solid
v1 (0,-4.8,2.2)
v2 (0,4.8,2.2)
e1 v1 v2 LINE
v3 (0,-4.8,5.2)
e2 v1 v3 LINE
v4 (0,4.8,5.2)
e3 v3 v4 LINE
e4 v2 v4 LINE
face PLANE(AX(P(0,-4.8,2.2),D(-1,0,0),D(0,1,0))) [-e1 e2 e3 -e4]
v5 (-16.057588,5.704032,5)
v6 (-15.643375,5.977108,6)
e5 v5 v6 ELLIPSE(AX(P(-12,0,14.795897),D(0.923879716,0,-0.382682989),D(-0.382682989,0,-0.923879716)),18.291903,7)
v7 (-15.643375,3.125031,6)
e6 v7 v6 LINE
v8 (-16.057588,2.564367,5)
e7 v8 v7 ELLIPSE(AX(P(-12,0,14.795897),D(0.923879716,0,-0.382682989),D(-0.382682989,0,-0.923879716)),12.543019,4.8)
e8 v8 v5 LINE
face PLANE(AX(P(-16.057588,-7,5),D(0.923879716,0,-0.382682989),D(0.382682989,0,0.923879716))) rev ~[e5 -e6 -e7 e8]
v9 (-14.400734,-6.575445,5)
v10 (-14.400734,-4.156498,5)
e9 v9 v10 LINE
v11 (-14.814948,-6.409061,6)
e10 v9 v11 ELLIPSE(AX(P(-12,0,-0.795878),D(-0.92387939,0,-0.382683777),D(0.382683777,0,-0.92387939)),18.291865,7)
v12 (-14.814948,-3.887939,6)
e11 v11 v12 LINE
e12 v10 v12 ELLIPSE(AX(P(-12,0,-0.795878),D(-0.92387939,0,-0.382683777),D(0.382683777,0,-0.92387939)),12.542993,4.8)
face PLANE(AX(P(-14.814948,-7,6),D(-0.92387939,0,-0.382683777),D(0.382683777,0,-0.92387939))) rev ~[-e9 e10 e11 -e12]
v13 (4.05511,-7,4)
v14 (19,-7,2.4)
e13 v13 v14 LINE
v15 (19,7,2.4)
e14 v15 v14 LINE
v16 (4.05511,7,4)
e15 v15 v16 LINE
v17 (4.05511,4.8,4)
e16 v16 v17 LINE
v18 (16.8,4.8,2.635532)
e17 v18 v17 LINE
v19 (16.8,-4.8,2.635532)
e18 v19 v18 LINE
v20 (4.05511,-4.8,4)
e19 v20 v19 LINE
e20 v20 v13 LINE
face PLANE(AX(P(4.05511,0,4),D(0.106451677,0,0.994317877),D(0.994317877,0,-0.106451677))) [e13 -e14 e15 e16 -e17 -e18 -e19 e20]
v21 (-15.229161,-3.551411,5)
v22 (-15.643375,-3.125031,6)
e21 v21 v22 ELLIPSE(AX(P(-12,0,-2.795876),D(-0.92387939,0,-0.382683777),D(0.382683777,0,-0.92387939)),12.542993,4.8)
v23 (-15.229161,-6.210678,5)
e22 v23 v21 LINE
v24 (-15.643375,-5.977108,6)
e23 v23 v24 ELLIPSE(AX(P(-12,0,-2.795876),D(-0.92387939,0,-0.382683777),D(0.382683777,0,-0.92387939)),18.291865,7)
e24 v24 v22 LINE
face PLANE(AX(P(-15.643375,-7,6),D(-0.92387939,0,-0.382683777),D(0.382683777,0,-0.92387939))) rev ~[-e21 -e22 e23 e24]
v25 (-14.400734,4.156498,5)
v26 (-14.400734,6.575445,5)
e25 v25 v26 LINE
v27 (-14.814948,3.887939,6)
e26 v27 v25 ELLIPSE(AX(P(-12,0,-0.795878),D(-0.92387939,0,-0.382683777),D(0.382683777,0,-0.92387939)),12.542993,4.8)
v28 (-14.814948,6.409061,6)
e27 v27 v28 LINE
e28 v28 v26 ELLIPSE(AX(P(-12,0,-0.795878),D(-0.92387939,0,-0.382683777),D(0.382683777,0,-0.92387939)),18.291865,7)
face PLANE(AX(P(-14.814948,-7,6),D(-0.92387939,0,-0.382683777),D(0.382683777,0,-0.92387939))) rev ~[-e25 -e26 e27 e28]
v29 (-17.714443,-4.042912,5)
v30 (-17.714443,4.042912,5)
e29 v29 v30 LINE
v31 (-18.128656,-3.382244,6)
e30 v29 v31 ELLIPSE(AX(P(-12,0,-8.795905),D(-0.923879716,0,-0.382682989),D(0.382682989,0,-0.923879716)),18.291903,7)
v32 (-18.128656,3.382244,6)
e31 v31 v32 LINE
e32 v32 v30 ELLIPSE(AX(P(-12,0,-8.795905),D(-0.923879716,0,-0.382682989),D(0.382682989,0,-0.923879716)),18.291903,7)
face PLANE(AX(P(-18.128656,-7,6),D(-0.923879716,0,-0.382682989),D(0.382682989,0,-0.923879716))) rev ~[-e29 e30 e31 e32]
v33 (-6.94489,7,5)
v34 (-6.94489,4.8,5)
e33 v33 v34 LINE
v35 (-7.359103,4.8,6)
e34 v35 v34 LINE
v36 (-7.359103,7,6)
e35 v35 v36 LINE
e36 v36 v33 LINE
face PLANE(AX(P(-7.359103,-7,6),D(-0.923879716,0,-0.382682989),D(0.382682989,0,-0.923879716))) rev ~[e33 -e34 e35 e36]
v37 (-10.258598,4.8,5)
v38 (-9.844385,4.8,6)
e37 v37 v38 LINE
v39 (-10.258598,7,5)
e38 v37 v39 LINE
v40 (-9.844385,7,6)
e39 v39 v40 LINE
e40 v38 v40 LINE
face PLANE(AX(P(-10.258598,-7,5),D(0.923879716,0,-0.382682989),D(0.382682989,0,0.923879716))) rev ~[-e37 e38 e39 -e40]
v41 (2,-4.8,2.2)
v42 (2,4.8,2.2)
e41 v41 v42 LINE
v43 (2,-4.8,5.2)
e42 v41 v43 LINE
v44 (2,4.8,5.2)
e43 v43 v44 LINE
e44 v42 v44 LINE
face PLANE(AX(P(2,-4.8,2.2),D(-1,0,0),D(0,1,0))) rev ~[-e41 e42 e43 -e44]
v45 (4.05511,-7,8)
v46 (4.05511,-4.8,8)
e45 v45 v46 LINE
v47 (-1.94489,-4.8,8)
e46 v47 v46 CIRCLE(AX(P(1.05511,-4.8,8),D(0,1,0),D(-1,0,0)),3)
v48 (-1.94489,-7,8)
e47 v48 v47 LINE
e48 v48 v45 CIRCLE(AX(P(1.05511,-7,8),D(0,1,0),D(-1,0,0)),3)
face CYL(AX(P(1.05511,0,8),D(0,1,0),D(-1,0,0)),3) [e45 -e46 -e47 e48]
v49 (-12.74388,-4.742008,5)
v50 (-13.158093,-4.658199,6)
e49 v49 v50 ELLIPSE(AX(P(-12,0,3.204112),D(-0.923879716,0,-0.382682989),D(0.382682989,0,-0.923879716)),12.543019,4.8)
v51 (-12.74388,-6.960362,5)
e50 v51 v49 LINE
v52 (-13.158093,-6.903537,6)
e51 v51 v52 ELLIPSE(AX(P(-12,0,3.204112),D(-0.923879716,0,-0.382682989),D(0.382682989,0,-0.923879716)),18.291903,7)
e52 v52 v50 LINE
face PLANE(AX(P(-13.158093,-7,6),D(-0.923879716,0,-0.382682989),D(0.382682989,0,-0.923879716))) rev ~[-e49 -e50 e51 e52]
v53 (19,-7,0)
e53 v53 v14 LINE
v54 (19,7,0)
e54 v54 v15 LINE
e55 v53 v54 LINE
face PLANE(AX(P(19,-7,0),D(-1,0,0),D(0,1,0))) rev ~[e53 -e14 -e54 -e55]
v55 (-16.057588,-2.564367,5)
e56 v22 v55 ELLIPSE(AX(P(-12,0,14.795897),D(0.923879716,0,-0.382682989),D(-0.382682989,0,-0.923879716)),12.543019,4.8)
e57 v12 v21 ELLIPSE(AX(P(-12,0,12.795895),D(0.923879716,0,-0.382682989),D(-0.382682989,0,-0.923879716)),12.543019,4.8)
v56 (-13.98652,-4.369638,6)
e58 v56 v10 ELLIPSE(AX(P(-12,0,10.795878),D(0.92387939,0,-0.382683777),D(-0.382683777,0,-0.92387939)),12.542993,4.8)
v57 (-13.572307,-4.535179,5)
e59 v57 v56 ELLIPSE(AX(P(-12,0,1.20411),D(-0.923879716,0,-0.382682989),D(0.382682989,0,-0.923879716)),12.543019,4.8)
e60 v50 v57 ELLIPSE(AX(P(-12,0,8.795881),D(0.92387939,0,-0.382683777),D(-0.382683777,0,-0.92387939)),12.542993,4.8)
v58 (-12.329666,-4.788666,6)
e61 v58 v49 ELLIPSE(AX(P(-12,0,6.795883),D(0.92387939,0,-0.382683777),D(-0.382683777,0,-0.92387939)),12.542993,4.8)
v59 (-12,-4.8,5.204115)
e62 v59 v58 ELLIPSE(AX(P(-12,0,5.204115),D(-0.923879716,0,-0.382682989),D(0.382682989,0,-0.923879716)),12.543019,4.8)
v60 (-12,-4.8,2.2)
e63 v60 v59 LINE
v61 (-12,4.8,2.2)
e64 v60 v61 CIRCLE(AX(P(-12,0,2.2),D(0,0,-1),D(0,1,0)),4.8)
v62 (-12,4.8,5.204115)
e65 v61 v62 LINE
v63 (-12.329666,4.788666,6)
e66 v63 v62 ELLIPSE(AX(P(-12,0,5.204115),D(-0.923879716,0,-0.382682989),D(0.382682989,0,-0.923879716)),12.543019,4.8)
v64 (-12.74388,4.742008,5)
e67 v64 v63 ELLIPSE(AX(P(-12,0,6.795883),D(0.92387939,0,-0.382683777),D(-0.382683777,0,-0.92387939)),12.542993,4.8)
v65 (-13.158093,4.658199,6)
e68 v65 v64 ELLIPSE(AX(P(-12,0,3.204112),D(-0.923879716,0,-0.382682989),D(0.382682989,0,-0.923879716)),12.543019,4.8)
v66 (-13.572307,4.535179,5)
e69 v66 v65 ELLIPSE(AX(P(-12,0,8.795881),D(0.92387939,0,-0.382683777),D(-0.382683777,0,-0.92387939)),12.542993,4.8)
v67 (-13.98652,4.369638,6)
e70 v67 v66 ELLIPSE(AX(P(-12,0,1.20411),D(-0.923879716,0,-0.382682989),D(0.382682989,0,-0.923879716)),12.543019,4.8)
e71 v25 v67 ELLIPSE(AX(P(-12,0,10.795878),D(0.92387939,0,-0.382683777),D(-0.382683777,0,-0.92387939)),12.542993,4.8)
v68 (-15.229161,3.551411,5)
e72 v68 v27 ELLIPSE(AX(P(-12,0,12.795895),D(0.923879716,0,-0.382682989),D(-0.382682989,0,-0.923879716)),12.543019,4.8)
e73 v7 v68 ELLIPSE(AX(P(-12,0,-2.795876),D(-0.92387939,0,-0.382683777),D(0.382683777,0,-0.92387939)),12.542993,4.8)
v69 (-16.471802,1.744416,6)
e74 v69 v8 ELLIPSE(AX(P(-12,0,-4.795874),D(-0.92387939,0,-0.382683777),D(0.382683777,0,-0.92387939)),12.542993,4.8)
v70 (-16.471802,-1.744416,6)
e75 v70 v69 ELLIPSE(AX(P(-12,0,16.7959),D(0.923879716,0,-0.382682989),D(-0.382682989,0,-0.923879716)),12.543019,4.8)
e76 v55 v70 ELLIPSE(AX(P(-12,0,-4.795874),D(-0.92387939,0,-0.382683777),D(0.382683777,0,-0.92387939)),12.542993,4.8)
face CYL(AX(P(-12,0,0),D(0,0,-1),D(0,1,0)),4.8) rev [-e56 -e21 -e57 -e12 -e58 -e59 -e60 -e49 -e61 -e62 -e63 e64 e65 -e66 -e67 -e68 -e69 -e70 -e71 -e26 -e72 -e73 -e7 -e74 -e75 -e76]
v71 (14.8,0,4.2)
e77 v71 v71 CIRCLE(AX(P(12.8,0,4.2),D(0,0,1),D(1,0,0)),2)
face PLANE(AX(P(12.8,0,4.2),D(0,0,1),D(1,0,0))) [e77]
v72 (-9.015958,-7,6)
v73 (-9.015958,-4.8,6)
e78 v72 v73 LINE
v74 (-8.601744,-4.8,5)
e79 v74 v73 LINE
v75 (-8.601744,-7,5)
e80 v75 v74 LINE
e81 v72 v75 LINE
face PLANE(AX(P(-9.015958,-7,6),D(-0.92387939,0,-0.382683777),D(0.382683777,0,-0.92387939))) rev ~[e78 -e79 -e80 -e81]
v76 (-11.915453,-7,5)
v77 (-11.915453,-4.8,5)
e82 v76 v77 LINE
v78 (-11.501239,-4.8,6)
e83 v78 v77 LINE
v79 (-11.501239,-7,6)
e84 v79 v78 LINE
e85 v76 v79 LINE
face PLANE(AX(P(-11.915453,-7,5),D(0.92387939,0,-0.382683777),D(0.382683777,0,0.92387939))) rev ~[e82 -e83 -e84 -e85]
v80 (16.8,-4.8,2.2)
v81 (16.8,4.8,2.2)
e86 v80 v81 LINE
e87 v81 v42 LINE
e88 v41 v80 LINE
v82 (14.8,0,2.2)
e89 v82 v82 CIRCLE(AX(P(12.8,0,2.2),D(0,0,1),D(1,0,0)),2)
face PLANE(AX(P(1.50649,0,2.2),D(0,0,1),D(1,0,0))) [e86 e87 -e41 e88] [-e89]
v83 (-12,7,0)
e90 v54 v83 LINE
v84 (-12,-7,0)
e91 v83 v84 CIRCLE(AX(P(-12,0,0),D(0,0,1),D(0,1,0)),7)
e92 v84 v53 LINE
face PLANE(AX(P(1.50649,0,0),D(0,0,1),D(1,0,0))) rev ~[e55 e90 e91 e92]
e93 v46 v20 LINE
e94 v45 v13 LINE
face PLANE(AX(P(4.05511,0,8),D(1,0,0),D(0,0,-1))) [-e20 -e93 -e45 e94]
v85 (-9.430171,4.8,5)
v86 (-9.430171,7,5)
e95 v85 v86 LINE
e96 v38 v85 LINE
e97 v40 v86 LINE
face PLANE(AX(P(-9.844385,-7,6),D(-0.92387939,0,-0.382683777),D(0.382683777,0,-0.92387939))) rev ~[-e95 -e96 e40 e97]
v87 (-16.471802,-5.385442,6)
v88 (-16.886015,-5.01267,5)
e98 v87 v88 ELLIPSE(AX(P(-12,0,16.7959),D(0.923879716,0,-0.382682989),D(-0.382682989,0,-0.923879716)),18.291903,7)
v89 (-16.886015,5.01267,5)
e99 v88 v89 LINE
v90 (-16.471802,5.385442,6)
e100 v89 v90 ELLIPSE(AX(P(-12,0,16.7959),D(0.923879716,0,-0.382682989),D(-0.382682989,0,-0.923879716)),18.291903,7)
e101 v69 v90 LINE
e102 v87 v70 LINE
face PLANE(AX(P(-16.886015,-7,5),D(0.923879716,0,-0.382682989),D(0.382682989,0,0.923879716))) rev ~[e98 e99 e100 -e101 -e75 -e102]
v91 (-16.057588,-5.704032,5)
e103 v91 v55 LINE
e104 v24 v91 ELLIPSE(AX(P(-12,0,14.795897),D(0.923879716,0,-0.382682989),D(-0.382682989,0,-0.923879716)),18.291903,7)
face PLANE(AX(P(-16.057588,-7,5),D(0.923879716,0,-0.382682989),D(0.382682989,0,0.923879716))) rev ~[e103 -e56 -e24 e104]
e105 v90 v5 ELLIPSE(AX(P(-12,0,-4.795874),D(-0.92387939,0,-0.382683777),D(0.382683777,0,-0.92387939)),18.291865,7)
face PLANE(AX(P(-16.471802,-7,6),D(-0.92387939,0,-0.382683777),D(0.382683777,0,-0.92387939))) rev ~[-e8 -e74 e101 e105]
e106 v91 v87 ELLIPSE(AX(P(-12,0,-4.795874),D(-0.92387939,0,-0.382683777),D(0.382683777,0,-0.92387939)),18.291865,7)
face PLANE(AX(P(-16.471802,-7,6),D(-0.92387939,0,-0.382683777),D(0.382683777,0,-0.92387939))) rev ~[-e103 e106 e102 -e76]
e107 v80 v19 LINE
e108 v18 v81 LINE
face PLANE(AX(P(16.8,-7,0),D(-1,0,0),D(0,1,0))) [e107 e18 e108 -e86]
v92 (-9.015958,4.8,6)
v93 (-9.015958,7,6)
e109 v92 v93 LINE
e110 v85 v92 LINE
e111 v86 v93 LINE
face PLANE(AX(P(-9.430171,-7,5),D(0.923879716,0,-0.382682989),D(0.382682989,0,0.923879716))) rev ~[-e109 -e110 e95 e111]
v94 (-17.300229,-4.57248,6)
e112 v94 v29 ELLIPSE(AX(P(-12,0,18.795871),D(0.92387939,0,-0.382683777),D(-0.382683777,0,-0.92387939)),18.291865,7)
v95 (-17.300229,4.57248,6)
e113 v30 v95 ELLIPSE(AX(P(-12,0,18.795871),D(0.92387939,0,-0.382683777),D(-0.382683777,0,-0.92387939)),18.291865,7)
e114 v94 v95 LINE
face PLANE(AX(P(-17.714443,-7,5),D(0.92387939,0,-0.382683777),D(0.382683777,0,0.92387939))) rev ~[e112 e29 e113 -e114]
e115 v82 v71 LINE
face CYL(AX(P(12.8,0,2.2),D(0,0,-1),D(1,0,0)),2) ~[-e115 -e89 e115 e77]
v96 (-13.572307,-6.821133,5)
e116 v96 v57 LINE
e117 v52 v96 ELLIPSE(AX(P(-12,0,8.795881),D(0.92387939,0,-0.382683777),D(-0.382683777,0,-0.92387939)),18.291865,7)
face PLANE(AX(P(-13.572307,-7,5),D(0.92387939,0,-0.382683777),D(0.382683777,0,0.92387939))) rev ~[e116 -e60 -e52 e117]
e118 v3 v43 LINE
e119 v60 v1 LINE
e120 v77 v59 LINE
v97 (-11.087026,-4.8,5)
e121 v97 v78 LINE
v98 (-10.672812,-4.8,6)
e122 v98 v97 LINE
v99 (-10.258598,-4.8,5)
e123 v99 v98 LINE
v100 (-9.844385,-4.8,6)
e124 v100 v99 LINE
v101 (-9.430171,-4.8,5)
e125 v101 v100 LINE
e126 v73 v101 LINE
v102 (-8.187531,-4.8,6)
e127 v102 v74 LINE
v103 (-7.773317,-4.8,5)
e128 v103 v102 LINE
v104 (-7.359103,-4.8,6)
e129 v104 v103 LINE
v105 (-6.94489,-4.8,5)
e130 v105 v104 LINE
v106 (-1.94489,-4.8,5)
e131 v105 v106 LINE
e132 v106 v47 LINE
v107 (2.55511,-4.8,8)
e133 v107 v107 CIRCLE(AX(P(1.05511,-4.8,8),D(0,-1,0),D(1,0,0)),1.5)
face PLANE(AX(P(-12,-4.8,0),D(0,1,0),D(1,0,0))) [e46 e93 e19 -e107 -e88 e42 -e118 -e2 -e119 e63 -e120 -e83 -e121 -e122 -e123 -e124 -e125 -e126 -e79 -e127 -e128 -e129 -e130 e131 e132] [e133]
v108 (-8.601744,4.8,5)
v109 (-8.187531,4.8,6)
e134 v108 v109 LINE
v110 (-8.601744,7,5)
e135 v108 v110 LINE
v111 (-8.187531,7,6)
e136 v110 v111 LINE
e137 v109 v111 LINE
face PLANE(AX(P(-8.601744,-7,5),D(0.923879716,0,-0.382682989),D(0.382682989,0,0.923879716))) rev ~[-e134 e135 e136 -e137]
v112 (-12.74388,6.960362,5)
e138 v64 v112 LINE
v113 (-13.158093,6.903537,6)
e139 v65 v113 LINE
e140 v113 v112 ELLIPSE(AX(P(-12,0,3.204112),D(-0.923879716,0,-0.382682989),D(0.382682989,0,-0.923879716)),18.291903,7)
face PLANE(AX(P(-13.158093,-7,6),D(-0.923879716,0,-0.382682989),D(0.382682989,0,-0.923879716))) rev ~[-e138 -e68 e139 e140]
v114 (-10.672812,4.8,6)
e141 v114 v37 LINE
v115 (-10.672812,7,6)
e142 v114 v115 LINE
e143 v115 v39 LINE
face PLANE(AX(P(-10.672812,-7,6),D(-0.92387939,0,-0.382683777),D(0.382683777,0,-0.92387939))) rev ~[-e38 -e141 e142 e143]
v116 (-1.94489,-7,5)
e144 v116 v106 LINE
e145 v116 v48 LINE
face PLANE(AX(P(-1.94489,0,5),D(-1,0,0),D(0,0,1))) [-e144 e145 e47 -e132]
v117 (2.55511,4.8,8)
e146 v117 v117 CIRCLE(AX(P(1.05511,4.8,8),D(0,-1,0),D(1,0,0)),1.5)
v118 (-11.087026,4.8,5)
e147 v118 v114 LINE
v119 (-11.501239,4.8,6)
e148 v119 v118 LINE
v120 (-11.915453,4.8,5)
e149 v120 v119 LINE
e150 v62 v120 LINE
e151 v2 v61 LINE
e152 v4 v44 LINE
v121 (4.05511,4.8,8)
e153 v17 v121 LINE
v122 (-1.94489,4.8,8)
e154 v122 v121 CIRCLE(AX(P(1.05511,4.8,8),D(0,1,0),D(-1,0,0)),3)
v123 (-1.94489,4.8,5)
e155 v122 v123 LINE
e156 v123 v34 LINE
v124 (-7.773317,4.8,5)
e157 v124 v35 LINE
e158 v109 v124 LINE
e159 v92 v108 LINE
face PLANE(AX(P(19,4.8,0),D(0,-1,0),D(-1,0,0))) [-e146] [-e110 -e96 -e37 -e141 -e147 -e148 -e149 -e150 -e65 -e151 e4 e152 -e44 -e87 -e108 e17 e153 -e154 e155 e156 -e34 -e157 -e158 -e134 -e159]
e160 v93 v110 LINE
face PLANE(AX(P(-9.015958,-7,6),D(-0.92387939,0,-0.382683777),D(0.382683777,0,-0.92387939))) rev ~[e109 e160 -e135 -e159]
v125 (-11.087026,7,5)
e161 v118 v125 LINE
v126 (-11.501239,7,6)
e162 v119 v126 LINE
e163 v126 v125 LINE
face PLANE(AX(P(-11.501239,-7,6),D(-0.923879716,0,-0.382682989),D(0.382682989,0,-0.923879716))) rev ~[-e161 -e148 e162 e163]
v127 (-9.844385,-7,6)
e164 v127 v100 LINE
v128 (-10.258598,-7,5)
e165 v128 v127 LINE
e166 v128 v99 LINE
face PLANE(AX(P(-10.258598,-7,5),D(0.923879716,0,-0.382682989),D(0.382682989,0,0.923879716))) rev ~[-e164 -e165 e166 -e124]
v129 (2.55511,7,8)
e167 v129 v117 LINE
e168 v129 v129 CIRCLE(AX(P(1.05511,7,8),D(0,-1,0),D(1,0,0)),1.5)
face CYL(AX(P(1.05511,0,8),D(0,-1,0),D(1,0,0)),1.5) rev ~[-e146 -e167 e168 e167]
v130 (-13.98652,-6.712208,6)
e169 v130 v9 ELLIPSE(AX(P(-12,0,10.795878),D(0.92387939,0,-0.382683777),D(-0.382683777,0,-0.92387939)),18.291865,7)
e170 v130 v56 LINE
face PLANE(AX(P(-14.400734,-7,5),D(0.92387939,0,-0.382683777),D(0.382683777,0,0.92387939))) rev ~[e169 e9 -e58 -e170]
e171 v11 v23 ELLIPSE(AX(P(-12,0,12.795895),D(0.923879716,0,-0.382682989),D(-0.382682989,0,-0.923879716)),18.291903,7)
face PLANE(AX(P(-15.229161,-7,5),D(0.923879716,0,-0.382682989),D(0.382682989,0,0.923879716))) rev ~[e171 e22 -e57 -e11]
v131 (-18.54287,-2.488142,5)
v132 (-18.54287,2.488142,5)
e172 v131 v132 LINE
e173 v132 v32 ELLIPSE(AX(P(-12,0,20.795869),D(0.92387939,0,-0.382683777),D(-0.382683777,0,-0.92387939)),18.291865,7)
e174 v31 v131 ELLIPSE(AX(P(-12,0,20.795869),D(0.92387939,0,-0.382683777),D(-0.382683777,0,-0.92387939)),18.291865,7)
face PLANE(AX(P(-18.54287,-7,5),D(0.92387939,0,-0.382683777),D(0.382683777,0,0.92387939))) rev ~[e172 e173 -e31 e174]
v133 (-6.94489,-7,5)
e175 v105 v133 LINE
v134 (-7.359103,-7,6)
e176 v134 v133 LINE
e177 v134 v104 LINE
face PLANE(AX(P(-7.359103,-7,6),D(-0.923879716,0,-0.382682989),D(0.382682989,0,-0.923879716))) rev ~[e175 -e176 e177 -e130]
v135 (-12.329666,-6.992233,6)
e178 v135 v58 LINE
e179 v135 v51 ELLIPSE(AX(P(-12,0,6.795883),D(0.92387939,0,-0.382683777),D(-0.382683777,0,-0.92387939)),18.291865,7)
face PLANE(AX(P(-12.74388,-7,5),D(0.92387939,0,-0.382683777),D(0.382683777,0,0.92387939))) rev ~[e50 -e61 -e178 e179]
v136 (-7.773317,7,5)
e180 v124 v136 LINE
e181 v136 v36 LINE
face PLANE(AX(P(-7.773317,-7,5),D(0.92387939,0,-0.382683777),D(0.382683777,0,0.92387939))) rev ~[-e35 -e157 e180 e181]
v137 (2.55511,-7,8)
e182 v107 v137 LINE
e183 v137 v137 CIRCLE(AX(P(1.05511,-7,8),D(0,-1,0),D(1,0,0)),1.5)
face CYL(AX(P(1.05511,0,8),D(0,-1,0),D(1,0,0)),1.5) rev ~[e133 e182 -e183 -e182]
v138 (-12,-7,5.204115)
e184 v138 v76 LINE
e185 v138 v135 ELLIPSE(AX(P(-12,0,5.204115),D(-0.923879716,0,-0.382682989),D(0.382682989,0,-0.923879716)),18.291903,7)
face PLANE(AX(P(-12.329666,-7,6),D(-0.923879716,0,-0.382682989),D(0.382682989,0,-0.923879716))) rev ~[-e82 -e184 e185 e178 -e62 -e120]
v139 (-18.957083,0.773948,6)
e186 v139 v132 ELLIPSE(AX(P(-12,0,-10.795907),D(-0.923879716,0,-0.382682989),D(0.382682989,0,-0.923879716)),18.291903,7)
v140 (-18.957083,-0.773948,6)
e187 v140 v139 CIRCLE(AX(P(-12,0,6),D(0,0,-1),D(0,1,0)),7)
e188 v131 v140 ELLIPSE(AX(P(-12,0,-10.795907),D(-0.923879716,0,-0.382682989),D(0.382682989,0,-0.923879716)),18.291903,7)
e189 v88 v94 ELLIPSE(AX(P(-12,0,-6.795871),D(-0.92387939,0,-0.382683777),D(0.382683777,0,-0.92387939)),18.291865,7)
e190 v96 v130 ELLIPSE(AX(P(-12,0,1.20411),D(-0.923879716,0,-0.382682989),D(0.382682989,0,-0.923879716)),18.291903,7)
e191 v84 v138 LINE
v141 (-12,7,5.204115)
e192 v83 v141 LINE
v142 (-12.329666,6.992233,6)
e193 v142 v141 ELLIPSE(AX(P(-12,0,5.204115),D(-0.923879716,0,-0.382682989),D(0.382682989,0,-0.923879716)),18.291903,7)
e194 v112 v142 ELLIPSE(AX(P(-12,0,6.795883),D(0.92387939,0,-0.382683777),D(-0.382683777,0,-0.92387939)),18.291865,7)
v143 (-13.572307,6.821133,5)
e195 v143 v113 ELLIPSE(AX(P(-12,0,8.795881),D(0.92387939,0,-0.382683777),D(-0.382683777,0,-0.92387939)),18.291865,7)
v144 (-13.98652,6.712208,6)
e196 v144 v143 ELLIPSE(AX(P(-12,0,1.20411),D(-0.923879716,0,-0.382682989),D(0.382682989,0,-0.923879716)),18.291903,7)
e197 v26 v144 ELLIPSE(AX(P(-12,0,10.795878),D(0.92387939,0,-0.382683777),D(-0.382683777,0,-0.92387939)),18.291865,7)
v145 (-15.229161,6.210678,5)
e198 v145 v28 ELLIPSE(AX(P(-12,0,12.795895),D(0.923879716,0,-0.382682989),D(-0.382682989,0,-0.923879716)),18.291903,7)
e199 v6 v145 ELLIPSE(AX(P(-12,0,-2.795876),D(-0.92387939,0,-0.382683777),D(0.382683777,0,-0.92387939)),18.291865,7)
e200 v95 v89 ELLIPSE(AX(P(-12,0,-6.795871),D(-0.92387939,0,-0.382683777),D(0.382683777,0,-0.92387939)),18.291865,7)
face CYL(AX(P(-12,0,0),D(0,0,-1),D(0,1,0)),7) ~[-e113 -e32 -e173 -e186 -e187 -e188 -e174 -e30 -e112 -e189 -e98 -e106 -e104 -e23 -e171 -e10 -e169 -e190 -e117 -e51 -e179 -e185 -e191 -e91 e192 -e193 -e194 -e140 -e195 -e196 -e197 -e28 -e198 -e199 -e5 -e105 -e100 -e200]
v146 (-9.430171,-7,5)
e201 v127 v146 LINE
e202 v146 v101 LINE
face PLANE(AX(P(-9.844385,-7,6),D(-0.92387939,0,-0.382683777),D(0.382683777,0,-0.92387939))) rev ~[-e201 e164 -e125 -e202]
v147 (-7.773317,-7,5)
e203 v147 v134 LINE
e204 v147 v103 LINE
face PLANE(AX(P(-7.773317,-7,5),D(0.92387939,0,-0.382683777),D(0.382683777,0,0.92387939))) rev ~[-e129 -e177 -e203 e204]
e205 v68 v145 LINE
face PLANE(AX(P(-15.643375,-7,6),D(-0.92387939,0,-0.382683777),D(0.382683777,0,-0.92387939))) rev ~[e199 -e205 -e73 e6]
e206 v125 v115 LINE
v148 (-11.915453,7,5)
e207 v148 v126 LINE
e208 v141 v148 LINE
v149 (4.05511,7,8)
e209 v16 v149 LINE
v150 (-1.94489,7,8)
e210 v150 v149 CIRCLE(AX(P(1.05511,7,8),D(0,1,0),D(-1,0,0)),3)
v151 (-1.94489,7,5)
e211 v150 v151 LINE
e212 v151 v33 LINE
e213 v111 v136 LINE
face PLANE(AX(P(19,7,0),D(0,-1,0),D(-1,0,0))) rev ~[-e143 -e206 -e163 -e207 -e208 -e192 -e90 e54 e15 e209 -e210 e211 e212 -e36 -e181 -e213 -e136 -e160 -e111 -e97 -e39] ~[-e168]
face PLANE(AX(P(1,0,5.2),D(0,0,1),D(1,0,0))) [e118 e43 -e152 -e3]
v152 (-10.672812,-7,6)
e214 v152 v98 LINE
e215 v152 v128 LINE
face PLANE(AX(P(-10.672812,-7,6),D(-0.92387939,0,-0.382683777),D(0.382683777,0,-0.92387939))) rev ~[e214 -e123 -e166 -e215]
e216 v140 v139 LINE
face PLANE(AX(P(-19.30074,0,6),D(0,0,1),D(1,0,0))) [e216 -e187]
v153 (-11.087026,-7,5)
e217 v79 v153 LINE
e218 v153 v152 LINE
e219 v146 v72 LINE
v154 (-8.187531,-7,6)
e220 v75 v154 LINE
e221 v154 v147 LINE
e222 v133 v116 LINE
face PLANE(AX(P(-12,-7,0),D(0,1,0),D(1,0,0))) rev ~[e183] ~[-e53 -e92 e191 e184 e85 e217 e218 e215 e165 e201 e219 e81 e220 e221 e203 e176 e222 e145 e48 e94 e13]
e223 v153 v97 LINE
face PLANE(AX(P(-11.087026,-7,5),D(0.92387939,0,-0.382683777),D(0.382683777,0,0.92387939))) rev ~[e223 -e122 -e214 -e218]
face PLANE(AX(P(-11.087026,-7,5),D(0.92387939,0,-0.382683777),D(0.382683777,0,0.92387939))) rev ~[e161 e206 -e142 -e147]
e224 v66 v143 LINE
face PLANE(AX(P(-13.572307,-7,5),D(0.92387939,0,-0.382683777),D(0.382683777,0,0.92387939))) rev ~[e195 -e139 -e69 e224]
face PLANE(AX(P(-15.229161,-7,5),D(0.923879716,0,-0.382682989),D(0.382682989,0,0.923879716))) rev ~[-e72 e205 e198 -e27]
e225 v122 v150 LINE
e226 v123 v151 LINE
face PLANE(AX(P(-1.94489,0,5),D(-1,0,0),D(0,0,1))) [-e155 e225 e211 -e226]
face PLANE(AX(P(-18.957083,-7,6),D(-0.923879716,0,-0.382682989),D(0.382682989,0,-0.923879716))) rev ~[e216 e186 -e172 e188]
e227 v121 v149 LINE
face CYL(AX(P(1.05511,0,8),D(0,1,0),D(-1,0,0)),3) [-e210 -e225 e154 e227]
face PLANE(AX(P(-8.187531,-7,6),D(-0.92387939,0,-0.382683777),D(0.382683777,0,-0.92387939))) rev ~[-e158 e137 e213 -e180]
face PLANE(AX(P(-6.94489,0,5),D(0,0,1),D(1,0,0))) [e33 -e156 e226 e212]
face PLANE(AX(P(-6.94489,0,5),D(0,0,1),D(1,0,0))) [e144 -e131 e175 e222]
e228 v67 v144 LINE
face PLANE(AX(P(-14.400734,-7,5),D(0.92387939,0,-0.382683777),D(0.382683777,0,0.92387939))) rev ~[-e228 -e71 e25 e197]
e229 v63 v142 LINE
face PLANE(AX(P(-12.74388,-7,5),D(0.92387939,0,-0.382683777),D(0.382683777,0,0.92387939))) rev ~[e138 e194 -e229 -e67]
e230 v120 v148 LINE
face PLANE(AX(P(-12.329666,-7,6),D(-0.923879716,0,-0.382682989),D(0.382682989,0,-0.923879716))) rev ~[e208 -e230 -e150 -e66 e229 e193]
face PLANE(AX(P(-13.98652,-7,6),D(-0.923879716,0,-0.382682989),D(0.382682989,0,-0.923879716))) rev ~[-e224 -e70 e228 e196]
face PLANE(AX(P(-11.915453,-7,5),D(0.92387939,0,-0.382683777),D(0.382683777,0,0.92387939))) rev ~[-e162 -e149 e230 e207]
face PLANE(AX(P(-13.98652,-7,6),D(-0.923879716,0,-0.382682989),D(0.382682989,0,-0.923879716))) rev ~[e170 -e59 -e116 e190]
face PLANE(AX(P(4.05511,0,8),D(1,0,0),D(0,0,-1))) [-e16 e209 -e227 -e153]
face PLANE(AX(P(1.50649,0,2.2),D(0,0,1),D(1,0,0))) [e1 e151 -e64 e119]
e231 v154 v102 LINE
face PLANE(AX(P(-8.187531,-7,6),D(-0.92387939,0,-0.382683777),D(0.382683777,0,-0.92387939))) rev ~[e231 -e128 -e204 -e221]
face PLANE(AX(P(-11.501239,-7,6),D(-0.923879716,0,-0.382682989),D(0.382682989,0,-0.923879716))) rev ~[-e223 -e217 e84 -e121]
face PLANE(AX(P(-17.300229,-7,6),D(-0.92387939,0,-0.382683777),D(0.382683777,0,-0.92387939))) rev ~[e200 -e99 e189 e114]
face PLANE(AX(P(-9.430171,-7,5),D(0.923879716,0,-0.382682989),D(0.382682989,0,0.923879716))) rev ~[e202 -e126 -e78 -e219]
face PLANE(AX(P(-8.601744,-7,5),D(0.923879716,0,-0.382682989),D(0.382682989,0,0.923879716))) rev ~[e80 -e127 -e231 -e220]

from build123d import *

# Parameters (mm, degrees)
F1_DEPTH  = 25
F2_T      = -2.2
F3_R      = 1.5
F4_DEPTH  = 12.5
F5_R      = 2
F6_DEPTH  = 2
F7_W      = 2
F7_H      = 9.6
F8_DEPTH  = 3
F10_DEPTH = 14


with BuildPart() as f1:
    # F0 (on Top) → F1 (new body)
    with BuildSketch(Plane.XY):
        with BuildLine():
            Line((19, 7), (-12, 7))
            ThreePointArc((-12, 7), (-19, 0), (-12, -7))
            Line((-12, -7), (19, -7))
            Line((19, -7), (19, 7))
        make_face()
    extrude(amount=F1_DEPTH)

    # F2
    f2_openings = [f1.faces().sort_by_distance(p)[0] for p in [
        (0.717666, 0, 25),
    ]]
    offset(amount=F2_T, openings=f2_openings)

    # F3 (on Front) → F4 (cut, symmetric)
    with BuildSketch(Plane.XZ):
        with BuildLine():
            Line((4.05511, 8), (4.05511, 4))
            Line((4.05511, 4), (19, 2.4))
            Line((19, 2.4), (19, 25))
            Line((19, 25), (-19.30074, 25))
            Line((-19.30074, 25), (-19.30074, 6))
            Line((-19.30074, 6), (-6.94489, 6))
            Line((-6.94489, 6), (-6.94489, 5))
            Line((-6.94489, 5), (-1.94489, 5))
            Line((-1.94489, 5), (-1.94489, 8))
            ThreePointArc((-1.94489, 8), (1.05511, 11), (4.05511, 8))
        make_face()
        with Locations((1.05511, 8)):
            Circle(F3_R)
    extrude(amount=F4_DEPTH, both=True, mode=Mode.SUBTRACT)

    # F5 (on face) → F6 (join)
    with BuildSketch(Plane.XY.offset(2.2)):
        with Locations((12.8, 0)):
            Circle(F5_R)
    extrude(amount=F6_DEPTH)

    # F7 (on face) → F8 (join)
    with BuildSketch(Plane.XY.offset(2.2)):
        with Locations((1, 0)):
            Rectangle(F7_W, F7_H)
    extrude(amount=F8_DEPTH)

    # F9 (on face) → F10 (cut, through all)
    with BuildSketch(Plane.XZ.offset(7)):
        Polygon((-18.54287, 5), (-18.128656, 6), (-18.957083, 6), align=None)
        Polygon((-17.714443, 5), (-17.300229, 6), (-18.128656, 6), align=None)
        Polygon((-16.886015, 5), (-16.471802, 6), (-17.300229, 6), align=None)
        Polygon((-16.057588, 5), (-15.643375, 6), (-16.471802, 6), align=None)
        Polygon((-15.229161, 5), (-14.814948, 6), (-15.643375, 6), align=None)
        Polygon((-14.400734, 5), (-13.98652, 6), (-14.814948, 6), align=None)
        Polygon((-13.572307, 5), (-13.158093, 6), (-13.98652, 6), align=None)
        Polygon((-12.74388, 5), (-12.329666, 6), (-13.158093, 6), align=None)
        Polygon((-11.915453, 5), (-11.501239, 6), (-12.329666, 6), align=None)
        Polygon((-11.087026, 5), (-10.672812, 6), (-11.501239, 6), align=None)
        Polygon((-10.258598, 5), (-9.844385, 6), (-10.672812, 6), align=None)
        Polygon((-9.430171, 5), (-9.015958, 6), (-9.844385, 6), align=None)
        Polygon((-8.601744, 5), (-8.187531, 6), (-9.015958, 6), align=None)
        Polygon((-7.773317, 5), (-7.359103, 6), (-8.187531, 6), align=None)
        Polygon((-6.94489, 5), (-6.530676, 6), (-7.359103, 6), align=None)
    extrude(amount=-F10_DEPTH, mode=Mode.SUBTRACT)


solid = f1.part
